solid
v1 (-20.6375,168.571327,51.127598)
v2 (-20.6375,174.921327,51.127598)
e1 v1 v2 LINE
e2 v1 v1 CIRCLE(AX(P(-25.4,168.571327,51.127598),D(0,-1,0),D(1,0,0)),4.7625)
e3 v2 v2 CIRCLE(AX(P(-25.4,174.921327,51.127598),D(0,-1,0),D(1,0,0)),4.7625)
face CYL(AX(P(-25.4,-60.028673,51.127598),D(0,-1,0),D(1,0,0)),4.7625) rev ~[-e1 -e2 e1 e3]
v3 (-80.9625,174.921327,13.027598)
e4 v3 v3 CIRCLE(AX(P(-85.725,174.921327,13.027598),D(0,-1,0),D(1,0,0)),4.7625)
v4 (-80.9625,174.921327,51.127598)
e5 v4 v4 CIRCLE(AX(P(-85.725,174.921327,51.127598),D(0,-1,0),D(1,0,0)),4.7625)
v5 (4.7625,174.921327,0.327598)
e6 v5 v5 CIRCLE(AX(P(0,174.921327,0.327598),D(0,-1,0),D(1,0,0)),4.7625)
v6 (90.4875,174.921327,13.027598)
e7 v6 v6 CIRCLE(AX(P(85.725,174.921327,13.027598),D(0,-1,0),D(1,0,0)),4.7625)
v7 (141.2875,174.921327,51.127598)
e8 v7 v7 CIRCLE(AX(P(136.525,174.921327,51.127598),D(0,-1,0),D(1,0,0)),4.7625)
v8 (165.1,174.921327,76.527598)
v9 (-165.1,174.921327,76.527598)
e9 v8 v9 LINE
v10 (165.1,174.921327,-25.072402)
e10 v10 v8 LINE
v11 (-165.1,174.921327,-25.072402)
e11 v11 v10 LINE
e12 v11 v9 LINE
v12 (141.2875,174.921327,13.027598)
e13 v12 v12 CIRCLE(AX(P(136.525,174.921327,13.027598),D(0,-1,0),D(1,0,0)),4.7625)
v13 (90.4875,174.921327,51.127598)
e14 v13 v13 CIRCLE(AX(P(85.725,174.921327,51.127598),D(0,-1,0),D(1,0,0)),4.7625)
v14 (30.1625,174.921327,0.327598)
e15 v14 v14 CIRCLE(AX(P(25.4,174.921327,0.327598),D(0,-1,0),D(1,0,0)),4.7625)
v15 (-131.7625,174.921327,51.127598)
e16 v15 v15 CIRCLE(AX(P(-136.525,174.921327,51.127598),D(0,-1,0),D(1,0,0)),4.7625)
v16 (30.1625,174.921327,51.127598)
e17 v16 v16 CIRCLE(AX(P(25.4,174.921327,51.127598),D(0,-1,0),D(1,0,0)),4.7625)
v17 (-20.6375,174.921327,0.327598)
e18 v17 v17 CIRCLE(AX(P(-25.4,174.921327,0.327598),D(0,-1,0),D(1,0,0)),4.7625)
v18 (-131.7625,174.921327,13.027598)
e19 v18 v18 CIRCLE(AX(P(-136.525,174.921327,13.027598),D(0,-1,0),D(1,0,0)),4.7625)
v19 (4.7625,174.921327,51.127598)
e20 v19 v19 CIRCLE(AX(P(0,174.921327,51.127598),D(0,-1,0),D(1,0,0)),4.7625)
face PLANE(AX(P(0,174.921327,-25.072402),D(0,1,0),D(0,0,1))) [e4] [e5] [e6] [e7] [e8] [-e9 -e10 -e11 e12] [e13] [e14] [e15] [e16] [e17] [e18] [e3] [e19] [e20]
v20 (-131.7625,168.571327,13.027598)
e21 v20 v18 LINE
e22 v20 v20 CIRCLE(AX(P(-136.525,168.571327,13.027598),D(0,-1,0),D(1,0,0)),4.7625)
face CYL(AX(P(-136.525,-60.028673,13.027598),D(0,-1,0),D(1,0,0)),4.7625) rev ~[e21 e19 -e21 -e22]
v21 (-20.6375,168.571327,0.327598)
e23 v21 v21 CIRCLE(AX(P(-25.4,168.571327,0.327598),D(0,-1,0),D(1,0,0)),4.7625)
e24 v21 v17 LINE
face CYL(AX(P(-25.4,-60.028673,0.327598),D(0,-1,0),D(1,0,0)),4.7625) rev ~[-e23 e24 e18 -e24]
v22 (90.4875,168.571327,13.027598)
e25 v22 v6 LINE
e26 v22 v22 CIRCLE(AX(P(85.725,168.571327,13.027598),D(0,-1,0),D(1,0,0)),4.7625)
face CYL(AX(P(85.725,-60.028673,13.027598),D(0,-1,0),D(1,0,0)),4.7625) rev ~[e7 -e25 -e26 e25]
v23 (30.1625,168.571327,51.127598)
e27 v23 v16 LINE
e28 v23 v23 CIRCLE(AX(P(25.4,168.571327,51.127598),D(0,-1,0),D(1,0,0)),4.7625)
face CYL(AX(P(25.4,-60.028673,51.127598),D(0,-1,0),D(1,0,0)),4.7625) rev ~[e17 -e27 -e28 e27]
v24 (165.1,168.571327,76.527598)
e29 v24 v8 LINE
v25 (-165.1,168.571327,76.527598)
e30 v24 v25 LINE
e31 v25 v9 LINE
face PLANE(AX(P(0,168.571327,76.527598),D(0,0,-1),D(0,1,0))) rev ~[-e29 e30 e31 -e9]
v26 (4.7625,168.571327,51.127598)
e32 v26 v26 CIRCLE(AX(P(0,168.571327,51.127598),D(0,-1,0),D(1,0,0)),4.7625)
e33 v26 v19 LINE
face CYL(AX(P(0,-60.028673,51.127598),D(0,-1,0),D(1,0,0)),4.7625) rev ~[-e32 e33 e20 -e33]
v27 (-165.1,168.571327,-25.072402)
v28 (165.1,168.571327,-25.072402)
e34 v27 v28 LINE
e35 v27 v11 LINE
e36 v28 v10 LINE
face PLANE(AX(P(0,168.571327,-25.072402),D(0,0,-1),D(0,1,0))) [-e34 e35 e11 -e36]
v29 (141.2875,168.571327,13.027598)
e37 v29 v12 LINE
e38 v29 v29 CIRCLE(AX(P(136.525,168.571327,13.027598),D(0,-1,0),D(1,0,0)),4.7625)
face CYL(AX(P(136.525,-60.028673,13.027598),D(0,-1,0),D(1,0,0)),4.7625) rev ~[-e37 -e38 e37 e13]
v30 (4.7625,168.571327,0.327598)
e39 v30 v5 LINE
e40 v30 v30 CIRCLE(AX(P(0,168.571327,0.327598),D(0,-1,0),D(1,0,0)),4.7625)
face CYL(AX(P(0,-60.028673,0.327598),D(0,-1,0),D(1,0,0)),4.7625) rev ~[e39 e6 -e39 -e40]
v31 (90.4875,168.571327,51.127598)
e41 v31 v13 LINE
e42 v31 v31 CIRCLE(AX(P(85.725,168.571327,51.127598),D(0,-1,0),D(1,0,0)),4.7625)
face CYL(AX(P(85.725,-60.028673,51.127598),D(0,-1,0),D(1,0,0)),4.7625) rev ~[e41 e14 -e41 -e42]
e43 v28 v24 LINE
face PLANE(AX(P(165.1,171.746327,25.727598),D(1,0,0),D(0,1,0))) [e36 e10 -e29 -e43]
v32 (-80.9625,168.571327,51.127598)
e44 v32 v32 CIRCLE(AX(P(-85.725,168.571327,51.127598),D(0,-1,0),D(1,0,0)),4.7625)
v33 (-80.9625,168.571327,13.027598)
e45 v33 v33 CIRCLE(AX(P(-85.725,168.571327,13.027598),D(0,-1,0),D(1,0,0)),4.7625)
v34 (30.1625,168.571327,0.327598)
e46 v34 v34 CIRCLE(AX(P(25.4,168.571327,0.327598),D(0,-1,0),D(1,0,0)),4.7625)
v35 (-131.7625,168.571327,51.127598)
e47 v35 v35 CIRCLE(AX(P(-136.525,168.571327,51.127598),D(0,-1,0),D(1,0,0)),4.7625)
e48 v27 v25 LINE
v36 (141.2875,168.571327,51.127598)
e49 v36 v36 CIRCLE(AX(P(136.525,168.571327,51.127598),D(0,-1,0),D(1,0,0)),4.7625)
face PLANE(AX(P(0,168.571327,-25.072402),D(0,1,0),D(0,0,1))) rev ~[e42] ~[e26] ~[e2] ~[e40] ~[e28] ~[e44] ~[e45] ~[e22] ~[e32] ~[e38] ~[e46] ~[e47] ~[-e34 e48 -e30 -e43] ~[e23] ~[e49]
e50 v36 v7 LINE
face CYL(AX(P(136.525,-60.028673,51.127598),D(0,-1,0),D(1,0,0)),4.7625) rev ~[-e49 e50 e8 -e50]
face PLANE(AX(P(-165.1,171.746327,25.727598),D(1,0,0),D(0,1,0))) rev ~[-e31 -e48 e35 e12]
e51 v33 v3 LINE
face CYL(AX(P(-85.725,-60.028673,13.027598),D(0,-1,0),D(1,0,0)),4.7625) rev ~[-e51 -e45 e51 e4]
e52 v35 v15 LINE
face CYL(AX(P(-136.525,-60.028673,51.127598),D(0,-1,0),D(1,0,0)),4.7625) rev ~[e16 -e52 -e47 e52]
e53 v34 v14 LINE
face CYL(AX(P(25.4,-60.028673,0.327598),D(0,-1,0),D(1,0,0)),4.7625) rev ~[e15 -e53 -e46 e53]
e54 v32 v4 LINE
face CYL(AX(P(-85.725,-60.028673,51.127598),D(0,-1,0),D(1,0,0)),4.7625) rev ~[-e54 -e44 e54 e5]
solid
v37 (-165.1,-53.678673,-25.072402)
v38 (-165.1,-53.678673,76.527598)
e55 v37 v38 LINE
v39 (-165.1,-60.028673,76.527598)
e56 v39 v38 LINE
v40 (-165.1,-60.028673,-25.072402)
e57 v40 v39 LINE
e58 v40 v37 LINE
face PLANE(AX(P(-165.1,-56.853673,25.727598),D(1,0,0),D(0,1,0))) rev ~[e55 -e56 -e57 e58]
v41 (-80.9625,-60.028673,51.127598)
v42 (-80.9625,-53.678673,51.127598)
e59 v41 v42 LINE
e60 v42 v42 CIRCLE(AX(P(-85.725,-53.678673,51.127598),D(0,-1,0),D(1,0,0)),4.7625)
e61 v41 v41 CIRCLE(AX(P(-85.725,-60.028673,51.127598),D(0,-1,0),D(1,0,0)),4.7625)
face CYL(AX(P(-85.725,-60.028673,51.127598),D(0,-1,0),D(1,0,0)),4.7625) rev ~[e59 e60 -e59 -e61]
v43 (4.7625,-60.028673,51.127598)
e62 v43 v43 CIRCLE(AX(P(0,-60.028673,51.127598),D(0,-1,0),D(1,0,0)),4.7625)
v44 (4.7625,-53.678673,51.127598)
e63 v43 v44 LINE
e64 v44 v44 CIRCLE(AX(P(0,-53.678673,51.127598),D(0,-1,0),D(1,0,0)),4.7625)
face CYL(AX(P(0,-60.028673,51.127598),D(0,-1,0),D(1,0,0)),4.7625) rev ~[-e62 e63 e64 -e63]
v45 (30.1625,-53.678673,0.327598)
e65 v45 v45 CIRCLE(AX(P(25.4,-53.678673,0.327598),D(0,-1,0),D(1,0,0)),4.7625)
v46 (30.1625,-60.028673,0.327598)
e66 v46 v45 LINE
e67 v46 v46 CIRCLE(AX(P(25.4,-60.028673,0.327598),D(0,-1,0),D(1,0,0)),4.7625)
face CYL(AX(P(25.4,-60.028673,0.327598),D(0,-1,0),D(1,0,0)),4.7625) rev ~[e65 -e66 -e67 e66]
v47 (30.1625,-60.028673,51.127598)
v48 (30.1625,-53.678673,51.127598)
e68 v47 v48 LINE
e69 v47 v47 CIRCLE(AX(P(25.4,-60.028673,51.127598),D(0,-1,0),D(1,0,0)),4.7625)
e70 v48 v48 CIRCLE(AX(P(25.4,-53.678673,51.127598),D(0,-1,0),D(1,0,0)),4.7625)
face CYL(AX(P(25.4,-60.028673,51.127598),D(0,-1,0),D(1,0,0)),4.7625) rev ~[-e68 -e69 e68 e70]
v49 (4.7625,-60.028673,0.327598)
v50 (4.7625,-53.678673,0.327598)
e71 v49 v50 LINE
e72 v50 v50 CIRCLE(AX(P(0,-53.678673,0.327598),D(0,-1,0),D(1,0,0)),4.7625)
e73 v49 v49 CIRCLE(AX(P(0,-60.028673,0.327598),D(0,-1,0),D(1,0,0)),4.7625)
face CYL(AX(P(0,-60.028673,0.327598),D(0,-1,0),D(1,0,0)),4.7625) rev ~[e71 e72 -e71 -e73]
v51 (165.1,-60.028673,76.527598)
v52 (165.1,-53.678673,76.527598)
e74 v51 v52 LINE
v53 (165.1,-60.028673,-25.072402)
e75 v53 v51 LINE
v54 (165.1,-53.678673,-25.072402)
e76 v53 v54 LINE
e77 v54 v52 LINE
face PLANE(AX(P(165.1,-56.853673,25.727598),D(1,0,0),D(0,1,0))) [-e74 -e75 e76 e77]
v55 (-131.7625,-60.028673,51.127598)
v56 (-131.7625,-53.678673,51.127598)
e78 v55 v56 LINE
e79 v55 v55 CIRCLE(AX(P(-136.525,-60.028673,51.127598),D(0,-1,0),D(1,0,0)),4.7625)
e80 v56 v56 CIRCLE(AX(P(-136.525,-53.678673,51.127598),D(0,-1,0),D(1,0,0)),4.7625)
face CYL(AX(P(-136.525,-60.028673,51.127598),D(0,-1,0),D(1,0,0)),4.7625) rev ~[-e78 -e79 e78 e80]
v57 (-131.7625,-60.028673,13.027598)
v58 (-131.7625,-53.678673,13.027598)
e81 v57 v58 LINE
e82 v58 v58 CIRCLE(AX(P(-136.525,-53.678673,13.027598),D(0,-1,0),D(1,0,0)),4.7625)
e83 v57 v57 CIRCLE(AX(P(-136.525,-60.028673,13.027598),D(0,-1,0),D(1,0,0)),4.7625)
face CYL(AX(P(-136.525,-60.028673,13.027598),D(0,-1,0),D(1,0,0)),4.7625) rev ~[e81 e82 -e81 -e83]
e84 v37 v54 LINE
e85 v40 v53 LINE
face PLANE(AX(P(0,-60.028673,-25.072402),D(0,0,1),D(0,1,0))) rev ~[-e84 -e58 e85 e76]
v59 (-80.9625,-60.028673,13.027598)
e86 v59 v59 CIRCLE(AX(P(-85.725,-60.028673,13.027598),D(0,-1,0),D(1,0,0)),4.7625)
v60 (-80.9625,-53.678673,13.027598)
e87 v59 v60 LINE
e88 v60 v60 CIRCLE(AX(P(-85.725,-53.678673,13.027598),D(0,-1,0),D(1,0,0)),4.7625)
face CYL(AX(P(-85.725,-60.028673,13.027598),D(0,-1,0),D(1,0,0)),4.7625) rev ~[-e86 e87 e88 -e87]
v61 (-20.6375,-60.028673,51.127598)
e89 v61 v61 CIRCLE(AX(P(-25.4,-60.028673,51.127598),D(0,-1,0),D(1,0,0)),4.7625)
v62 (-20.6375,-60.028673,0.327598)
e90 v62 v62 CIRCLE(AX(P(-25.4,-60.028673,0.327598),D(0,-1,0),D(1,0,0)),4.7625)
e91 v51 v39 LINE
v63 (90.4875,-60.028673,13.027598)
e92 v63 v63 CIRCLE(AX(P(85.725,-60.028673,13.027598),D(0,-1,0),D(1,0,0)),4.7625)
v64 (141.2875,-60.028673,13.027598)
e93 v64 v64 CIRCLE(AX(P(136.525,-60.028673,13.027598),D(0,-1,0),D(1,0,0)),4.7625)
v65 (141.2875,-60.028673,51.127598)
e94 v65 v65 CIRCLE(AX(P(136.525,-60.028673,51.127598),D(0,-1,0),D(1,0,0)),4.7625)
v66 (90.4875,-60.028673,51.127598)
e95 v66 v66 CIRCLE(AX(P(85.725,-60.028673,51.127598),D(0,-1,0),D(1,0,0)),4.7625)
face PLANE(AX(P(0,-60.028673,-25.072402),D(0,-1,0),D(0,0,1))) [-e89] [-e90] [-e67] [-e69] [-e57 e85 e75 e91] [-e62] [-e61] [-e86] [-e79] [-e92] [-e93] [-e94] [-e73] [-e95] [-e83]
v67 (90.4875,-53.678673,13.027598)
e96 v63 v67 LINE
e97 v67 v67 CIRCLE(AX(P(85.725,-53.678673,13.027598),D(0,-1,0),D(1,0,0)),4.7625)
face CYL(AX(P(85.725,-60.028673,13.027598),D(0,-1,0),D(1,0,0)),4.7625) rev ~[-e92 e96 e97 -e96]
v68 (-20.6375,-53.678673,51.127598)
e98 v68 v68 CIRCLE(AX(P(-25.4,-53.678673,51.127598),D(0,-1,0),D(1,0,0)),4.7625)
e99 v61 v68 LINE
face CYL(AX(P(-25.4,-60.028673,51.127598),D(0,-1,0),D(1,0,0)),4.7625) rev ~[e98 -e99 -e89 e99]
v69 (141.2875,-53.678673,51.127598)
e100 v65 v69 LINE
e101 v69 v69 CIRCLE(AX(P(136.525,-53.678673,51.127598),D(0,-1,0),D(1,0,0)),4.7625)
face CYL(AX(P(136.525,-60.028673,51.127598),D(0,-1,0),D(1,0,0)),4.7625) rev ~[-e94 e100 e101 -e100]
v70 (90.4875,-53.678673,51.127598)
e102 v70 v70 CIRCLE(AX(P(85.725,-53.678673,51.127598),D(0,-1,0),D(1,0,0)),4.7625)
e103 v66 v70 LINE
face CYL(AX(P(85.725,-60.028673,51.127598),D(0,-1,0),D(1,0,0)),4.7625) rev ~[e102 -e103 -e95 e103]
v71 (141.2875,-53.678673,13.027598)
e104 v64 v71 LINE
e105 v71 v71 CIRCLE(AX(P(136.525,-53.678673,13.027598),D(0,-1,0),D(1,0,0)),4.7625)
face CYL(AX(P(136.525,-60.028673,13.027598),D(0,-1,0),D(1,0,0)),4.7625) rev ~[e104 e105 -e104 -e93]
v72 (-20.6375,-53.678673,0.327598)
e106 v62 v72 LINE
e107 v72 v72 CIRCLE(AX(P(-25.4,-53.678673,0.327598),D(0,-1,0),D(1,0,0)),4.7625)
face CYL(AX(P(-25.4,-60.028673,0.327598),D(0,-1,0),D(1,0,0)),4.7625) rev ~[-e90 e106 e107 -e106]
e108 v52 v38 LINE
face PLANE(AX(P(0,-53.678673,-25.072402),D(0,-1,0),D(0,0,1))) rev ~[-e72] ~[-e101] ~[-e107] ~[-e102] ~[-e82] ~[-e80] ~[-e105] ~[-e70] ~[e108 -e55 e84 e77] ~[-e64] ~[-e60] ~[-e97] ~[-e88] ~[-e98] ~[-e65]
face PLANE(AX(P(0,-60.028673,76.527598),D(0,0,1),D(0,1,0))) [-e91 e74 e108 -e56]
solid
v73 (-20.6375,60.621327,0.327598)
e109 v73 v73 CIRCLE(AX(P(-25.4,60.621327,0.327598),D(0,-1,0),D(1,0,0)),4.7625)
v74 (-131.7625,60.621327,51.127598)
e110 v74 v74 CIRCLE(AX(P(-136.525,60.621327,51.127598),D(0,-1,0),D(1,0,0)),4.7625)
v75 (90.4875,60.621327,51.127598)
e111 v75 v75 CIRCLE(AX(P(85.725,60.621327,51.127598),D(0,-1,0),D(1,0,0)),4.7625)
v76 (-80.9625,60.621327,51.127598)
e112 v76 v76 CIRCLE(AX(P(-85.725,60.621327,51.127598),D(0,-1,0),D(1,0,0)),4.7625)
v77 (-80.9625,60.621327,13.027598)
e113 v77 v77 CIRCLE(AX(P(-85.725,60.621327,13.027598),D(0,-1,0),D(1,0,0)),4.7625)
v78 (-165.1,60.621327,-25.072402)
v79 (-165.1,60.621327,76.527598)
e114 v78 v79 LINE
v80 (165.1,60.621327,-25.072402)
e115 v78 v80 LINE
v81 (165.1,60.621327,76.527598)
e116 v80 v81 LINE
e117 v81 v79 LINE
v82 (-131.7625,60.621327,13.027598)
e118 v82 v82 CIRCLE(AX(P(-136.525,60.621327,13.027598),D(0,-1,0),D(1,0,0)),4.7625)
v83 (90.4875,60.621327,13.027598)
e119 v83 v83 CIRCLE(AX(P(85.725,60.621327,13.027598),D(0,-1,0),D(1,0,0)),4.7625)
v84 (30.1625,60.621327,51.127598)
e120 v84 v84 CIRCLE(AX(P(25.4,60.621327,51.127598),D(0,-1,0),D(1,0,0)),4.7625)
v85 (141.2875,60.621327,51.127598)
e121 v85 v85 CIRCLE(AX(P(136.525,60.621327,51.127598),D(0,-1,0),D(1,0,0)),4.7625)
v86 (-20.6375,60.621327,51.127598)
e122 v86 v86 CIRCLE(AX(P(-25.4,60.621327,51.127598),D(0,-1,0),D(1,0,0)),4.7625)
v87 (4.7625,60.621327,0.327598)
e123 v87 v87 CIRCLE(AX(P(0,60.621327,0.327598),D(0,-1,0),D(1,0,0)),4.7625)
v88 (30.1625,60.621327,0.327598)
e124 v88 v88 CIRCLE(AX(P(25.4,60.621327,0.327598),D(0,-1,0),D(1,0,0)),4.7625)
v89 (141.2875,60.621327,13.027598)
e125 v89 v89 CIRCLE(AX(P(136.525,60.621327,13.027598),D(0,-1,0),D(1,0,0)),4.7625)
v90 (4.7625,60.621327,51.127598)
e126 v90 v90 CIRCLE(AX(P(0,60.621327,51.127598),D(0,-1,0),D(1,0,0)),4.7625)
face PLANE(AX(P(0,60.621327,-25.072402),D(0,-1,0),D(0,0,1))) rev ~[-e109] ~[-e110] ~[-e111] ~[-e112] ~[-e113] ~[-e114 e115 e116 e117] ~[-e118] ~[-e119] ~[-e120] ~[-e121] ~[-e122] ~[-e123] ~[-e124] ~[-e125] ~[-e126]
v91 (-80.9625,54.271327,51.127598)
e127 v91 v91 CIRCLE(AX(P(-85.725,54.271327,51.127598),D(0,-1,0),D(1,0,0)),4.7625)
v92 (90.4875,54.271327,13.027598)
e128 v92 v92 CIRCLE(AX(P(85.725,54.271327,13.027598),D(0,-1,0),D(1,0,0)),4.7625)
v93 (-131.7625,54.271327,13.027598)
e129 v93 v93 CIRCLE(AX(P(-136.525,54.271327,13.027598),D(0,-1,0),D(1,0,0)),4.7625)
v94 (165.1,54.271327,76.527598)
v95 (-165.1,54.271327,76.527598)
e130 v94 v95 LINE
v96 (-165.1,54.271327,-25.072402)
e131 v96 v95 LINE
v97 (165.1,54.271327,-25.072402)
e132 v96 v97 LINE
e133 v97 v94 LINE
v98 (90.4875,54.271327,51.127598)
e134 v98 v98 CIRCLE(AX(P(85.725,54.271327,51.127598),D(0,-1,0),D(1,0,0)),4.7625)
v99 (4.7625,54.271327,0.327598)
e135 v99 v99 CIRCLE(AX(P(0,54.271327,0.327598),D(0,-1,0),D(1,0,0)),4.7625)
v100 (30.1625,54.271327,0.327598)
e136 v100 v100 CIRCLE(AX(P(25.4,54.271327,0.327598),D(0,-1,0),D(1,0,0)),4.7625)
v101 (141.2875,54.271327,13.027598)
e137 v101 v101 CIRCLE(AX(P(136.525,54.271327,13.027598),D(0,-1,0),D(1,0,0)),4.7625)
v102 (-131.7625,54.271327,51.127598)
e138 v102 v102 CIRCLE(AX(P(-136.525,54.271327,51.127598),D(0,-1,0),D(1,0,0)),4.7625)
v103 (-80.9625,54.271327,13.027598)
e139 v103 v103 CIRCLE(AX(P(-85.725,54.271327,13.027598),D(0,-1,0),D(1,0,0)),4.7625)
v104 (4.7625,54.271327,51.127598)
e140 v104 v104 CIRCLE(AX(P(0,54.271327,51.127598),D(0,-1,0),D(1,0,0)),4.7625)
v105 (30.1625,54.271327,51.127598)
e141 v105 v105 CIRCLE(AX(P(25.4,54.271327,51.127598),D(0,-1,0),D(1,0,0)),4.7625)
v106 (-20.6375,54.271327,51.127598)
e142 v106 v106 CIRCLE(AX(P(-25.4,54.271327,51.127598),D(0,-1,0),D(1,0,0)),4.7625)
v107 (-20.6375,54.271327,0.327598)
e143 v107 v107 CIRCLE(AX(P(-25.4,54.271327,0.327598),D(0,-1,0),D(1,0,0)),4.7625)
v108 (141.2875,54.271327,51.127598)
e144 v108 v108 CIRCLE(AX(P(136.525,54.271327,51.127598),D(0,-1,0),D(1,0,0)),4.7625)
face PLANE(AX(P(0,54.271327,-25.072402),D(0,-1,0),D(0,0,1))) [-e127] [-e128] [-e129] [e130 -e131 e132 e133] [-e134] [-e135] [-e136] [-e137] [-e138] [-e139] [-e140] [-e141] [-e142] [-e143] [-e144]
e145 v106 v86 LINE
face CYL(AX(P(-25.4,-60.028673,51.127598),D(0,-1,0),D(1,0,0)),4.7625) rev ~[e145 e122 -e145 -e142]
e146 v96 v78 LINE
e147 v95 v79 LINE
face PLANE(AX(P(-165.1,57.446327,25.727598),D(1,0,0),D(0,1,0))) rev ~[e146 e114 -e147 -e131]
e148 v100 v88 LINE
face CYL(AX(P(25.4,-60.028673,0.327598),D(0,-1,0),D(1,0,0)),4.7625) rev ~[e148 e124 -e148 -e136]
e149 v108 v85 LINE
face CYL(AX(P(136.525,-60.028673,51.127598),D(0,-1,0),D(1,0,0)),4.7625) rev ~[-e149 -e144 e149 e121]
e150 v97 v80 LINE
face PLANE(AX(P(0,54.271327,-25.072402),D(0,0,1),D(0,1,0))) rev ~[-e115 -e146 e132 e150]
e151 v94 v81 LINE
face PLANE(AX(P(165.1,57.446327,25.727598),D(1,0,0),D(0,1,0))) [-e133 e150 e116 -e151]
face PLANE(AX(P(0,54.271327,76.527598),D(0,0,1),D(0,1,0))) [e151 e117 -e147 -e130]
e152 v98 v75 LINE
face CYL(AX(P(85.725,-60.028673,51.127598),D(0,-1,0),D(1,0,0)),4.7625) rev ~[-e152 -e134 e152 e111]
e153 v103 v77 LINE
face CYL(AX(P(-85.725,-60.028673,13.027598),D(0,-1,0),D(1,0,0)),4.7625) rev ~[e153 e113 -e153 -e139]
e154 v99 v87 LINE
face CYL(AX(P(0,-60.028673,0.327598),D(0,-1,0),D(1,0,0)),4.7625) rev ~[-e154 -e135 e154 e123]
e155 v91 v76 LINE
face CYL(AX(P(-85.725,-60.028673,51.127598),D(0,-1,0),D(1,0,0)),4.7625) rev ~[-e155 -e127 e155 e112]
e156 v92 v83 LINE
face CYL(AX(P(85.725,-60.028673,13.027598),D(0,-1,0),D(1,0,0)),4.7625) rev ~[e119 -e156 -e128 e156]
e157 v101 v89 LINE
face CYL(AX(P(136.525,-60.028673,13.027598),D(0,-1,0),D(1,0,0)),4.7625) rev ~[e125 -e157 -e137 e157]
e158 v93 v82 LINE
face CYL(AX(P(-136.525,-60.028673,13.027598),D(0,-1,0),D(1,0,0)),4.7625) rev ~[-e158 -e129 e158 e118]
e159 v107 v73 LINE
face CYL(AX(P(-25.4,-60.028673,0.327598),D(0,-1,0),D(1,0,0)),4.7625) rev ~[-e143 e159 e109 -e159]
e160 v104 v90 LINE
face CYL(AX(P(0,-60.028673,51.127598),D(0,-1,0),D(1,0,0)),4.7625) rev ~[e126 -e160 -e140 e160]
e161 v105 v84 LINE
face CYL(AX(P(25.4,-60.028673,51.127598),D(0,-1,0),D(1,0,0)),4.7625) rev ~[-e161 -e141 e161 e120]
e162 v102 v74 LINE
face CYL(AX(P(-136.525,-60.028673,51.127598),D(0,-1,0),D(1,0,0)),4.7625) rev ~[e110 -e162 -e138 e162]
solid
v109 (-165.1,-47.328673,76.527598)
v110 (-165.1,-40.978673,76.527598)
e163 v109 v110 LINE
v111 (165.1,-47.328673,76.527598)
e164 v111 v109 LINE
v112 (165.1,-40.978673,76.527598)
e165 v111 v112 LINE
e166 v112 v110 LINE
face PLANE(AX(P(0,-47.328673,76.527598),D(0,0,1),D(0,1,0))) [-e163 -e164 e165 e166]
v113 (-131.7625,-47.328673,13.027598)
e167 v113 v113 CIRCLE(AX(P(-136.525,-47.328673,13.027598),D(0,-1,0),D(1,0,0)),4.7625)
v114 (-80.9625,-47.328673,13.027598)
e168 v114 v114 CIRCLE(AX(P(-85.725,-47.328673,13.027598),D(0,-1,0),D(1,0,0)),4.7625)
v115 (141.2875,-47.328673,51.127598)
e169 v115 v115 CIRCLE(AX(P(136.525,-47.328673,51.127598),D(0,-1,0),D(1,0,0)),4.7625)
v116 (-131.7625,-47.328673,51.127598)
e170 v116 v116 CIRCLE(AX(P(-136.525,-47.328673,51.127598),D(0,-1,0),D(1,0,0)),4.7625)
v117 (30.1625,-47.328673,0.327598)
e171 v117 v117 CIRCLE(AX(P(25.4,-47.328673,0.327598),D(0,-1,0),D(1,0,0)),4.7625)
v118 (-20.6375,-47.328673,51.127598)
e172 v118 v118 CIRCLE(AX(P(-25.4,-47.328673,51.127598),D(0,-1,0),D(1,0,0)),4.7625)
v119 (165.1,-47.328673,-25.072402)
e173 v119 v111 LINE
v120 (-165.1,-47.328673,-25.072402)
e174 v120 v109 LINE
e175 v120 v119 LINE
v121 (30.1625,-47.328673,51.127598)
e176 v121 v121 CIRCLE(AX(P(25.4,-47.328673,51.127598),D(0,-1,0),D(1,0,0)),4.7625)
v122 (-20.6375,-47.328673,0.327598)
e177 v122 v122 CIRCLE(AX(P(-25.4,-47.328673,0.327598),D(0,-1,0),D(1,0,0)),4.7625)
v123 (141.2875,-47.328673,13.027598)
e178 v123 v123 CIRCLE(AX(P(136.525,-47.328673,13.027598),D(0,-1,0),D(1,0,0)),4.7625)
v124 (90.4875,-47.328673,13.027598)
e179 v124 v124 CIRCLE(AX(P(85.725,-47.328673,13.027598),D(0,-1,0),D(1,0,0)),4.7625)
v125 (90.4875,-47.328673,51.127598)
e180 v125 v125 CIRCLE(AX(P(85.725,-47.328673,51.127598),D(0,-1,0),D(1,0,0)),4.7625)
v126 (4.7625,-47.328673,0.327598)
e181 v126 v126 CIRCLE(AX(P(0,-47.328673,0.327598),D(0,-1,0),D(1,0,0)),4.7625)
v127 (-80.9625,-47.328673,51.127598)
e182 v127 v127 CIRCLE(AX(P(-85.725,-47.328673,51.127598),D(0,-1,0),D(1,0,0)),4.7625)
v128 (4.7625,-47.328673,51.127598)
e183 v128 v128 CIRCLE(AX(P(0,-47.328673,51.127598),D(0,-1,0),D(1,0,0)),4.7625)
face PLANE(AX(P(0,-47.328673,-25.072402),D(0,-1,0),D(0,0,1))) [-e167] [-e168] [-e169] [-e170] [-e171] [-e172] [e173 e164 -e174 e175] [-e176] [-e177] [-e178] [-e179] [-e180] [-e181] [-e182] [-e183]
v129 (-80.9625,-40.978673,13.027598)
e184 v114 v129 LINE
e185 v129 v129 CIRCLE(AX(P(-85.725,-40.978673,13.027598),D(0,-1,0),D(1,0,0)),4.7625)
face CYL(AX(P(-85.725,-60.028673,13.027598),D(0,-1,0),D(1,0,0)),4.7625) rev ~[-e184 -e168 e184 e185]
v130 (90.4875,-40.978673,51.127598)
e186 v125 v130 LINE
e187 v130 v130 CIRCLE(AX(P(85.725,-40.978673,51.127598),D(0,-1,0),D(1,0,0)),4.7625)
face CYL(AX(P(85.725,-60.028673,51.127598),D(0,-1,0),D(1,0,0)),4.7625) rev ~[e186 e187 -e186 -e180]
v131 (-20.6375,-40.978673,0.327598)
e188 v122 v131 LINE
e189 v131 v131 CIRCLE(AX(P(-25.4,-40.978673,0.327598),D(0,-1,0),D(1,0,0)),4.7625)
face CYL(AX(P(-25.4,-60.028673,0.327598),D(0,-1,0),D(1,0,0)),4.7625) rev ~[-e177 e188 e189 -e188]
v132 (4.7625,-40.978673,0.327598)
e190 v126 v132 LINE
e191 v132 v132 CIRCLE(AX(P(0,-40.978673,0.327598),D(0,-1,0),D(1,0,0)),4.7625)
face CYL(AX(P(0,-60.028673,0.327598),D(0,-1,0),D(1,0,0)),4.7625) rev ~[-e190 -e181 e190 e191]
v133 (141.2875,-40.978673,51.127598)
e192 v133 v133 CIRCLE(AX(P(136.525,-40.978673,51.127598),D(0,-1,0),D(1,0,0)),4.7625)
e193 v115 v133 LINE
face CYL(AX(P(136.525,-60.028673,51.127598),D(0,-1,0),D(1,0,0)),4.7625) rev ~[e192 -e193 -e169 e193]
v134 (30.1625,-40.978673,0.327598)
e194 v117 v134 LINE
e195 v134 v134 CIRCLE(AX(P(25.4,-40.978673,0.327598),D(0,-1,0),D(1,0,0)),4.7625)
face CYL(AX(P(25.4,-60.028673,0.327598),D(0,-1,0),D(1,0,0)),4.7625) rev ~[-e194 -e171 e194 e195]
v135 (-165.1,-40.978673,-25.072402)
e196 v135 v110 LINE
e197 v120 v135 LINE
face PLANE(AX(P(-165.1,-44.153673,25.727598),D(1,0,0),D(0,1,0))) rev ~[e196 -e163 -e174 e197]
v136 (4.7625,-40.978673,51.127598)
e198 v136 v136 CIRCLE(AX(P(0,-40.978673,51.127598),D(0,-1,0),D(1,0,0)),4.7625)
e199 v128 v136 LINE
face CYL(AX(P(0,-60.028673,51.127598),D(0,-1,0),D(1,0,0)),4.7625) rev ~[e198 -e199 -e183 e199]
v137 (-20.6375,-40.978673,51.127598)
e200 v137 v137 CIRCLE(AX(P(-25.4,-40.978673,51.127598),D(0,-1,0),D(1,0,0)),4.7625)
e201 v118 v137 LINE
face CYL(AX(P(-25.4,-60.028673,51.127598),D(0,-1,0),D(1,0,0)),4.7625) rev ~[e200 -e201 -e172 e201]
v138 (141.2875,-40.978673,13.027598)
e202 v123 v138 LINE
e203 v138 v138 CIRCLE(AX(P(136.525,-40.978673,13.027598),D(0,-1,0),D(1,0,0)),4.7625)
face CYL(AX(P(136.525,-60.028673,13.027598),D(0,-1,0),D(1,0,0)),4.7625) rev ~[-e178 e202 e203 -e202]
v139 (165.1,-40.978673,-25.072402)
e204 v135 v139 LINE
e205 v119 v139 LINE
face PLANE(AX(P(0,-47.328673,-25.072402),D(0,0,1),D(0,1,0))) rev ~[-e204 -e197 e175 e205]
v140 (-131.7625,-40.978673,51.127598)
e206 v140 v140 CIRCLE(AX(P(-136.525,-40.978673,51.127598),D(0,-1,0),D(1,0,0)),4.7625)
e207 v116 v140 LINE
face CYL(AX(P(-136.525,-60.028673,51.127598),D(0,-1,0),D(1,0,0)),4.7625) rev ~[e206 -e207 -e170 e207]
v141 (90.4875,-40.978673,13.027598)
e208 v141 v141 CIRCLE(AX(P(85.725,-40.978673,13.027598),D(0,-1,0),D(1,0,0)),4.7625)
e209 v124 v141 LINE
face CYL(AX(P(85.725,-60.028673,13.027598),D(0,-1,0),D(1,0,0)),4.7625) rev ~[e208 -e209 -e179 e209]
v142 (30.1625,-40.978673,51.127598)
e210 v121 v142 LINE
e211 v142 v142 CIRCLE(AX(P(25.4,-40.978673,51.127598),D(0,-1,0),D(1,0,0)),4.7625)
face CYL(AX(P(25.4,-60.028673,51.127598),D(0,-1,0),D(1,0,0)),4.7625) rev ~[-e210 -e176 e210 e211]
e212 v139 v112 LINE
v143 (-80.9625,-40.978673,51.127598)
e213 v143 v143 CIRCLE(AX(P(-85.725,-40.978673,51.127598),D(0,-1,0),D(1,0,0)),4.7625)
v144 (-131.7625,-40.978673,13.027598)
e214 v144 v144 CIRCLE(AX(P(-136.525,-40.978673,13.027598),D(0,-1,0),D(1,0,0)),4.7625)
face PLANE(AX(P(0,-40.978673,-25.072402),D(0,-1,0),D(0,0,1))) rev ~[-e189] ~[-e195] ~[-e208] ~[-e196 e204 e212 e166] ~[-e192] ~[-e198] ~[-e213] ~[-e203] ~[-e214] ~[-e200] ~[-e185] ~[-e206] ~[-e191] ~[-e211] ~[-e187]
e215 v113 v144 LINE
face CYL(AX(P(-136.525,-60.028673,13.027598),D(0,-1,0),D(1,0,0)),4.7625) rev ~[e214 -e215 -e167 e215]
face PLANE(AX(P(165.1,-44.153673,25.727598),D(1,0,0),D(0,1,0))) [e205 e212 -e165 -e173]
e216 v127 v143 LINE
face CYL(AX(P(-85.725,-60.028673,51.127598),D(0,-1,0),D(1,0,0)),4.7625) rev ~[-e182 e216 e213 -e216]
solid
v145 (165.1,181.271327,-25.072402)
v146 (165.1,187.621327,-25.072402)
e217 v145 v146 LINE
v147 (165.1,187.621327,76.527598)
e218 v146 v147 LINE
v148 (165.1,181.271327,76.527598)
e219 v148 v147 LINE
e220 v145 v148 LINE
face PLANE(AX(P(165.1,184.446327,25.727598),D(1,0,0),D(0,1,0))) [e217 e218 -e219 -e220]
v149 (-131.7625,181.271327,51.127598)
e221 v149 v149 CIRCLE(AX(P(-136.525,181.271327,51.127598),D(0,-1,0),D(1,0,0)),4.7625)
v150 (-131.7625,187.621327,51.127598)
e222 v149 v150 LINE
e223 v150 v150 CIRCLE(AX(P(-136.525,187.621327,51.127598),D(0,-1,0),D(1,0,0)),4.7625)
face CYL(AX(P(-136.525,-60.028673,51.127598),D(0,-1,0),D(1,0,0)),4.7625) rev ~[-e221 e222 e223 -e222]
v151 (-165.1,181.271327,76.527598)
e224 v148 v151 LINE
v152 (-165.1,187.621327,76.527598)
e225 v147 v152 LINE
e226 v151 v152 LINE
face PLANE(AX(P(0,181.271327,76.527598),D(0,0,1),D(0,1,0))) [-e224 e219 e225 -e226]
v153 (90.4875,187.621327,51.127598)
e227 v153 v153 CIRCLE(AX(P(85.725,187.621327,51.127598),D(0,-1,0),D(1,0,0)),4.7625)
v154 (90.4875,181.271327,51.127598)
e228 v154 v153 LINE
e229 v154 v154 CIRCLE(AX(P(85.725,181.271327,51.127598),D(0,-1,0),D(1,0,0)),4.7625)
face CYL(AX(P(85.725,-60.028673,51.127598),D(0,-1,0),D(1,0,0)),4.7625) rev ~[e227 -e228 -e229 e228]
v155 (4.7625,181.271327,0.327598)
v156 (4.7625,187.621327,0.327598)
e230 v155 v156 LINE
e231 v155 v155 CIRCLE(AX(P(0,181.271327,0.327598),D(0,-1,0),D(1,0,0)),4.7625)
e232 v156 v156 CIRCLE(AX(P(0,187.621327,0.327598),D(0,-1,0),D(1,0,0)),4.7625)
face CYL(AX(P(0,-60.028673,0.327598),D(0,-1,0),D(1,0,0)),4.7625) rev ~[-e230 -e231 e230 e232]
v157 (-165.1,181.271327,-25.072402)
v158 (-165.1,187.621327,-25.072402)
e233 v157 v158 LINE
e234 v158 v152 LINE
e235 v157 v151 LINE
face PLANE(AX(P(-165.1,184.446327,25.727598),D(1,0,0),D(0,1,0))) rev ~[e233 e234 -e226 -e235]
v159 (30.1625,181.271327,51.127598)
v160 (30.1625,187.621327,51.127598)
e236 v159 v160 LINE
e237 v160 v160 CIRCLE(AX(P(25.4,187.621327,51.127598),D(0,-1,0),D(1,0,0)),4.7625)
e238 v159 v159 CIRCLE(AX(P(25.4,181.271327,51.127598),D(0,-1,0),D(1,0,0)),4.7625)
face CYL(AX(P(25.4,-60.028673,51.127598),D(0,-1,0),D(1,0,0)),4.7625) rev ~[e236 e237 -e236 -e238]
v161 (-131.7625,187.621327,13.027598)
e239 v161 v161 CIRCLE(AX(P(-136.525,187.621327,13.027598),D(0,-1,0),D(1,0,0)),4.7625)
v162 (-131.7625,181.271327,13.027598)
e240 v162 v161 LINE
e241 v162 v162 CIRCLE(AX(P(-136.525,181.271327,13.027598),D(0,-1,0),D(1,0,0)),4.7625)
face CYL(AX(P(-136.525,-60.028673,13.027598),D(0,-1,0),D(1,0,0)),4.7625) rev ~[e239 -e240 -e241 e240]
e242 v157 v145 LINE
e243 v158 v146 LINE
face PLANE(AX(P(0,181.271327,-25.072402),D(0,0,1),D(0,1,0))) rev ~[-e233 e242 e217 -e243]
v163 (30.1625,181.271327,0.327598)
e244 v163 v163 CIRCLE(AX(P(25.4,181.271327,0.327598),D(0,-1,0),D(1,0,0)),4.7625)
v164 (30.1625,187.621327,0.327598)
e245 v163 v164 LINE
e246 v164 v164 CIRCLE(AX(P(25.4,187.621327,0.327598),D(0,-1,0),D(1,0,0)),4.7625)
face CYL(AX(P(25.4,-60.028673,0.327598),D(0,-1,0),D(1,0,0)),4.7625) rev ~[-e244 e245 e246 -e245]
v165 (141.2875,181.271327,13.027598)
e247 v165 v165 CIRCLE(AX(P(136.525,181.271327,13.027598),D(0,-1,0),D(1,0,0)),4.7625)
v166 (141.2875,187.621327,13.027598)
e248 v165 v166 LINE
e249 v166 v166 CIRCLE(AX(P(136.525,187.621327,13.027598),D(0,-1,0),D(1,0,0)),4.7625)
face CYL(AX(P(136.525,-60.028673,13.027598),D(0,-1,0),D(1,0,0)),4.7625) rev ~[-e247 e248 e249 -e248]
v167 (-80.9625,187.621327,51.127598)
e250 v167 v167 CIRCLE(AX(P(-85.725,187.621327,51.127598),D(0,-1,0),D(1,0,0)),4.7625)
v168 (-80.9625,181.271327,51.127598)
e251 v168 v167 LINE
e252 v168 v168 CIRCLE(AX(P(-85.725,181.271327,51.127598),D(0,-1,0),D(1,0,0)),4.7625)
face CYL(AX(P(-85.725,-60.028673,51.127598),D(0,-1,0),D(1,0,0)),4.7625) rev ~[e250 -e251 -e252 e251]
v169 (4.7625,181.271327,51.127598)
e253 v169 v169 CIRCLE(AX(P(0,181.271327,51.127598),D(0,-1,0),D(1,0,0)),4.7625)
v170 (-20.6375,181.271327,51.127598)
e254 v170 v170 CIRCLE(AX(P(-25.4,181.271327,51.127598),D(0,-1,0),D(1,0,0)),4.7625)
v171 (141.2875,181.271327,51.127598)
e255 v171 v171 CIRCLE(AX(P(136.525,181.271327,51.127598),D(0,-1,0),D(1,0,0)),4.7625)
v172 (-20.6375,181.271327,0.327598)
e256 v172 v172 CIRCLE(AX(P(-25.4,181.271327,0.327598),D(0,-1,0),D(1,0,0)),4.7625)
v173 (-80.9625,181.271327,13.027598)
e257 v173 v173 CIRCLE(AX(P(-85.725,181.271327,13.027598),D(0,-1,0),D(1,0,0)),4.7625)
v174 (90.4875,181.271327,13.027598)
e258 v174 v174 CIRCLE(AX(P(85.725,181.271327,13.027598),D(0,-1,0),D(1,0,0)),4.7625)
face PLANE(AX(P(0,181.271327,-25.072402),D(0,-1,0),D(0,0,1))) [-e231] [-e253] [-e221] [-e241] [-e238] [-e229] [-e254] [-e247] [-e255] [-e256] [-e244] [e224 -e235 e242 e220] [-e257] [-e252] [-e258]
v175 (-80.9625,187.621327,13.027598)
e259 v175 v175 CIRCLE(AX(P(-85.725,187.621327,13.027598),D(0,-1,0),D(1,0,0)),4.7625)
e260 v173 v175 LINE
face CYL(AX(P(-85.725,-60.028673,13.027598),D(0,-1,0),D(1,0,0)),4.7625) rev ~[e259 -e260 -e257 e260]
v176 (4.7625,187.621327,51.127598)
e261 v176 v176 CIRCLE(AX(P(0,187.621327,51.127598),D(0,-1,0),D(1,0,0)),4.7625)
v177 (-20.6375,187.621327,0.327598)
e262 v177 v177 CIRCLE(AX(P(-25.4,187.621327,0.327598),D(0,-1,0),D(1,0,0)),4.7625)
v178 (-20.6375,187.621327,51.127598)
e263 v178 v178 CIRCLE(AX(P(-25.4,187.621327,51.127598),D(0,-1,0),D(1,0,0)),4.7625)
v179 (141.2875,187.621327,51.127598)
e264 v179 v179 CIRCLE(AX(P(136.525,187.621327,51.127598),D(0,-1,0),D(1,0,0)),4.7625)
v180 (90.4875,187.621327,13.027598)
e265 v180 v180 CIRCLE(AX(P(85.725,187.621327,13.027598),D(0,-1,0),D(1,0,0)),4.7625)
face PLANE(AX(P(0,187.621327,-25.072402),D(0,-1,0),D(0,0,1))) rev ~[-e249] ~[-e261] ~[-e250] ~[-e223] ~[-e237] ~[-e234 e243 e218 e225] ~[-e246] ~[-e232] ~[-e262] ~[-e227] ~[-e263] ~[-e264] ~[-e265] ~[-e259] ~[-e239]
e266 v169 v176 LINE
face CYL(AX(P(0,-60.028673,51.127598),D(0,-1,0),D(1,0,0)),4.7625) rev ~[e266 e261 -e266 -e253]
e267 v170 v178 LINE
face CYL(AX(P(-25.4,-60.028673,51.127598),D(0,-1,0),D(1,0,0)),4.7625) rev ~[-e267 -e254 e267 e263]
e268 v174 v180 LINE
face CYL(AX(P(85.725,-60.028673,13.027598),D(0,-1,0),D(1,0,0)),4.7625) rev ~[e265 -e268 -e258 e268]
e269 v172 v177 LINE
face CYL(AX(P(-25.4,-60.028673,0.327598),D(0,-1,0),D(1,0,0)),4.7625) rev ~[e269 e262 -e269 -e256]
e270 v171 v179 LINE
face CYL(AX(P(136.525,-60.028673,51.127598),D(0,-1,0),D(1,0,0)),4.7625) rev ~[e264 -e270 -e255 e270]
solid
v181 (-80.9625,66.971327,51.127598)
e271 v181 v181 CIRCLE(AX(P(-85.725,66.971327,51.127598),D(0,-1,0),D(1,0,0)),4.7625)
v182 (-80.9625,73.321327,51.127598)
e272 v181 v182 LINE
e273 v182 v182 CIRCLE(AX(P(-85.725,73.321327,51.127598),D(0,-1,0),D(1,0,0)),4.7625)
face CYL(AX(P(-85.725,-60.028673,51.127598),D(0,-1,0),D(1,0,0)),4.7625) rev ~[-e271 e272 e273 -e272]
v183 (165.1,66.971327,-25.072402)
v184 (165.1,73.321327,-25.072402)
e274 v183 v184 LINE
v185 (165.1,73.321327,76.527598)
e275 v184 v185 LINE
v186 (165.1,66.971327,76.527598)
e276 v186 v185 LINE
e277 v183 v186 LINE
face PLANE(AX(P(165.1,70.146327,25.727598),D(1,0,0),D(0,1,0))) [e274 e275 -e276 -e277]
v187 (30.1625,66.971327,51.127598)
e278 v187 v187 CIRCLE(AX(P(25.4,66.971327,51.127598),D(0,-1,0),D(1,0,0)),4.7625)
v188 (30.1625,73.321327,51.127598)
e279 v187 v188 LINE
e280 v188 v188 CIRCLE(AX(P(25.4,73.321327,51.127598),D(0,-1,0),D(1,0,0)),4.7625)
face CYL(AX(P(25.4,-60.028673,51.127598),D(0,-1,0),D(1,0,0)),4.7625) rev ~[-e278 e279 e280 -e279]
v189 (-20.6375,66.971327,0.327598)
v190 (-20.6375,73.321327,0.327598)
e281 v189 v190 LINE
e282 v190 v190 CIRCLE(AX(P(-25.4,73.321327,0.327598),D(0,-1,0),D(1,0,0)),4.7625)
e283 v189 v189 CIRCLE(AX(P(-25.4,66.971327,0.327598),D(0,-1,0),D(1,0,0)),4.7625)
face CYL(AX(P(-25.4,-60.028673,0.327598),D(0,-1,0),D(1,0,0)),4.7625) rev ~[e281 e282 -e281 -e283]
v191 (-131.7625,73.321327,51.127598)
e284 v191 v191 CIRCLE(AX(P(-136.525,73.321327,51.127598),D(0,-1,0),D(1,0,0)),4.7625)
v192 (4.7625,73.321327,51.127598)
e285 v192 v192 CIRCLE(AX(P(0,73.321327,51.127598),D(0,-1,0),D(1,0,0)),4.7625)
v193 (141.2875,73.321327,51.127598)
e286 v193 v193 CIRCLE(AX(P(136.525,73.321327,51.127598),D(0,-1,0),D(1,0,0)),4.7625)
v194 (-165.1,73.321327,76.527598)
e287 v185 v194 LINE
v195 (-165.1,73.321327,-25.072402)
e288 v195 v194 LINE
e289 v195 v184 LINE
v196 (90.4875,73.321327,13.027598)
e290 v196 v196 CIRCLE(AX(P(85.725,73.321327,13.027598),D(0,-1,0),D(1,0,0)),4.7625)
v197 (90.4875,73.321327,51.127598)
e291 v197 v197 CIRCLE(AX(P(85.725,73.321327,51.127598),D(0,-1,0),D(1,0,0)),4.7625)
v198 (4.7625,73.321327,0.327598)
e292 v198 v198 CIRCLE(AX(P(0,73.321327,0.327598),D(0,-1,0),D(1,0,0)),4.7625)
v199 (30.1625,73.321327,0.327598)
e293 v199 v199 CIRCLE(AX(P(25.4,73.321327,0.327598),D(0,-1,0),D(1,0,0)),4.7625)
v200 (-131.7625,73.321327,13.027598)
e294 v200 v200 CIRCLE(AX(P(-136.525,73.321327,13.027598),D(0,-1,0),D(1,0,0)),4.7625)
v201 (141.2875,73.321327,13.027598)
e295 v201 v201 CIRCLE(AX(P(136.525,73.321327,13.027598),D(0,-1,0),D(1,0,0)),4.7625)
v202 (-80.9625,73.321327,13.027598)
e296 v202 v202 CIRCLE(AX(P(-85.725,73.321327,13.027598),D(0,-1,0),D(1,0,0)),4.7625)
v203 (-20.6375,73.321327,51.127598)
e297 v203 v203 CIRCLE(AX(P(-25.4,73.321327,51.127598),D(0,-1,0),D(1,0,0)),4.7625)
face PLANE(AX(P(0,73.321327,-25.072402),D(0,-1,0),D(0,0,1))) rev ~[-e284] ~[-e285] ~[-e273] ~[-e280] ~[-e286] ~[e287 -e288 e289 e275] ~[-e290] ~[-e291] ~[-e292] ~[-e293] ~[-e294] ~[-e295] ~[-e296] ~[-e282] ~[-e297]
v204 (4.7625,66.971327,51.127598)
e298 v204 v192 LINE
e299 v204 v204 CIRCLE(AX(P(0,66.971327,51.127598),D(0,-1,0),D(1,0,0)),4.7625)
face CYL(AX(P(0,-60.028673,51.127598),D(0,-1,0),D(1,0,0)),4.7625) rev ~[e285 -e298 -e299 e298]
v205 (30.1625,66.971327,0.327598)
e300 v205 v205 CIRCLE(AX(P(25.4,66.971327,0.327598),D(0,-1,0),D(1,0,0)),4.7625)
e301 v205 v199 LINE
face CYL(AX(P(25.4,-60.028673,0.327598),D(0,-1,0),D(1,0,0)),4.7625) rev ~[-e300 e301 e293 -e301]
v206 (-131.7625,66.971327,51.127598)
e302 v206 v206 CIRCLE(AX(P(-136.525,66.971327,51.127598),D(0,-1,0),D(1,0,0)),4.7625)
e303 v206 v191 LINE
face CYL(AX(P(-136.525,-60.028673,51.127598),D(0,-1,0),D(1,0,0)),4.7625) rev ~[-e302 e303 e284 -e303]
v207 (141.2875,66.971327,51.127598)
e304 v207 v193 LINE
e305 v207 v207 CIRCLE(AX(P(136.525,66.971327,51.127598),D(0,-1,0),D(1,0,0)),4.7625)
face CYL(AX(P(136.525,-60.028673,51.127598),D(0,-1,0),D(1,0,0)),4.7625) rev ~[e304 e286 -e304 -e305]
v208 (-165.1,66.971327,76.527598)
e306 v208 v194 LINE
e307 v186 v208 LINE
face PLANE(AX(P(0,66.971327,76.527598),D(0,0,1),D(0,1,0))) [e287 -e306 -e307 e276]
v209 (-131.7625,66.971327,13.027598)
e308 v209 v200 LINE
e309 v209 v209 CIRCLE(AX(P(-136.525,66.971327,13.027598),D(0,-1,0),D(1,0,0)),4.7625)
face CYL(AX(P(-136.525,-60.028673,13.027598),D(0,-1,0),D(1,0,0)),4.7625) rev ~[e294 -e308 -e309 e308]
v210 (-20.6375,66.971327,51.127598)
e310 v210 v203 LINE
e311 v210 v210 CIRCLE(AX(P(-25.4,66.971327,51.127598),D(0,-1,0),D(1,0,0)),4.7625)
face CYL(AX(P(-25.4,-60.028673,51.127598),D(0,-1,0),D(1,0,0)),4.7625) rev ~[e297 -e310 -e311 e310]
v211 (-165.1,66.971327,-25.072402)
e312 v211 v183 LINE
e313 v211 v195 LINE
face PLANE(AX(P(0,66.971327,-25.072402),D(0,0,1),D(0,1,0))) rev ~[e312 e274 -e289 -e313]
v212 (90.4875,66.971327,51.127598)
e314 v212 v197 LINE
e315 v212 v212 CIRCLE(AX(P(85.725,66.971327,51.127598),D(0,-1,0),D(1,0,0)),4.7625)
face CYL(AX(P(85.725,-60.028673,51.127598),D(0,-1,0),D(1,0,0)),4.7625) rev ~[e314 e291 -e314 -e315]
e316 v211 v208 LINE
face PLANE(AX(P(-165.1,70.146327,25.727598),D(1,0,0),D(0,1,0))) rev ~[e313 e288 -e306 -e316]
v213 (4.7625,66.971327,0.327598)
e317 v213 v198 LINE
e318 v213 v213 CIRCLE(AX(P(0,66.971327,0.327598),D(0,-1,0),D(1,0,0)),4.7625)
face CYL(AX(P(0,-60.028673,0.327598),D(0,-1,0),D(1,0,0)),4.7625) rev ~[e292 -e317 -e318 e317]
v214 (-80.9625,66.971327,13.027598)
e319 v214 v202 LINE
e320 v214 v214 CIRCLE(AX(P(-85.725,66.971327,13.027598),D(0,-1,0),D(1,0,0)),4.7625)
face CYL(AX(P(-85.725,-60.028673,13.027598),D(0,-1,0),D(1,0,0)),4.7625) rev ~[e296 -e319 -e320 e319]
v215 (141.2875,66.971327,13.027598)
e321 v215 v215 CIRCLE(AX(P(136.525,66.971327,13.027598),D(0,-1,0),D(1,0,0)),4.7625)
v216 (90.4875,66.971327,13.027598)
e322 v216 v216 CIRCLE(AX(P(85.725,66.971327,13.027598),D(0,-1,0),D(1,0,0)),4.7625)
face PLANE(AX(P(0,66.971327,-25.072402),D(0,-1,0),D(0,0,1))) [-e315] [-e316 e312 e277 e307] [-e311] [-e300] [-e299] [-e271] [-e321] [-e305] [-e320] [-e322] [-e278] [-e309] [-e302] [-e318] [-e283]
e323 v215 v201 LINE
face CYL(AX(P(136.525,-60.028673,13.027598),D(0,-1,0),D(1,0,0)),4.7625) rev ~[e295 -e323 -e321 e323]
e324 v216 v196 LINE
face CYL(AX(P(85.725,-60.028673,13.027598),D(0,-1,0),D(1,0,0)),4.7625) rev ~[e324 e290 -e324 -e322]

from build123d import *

# Parameters (mm, degrees)
F0_W     = 6.35
F0_H     = 101.6
F1_DEPTH = 165.1
F2_R     = 4.7625
F3_DEPTH = 247.651


with BuildPart() as f1:
    # F0 (on Right) → F1 (new body, symmetric)
    with BuildSketch(Plane.YZ):
        with Locations((-56.853673, 25.727598)):
            Rectangle(F0_W, F0_H)
        with Locations((-44.153673, 25.727598)):
            Rectangle(F0_W, F0_H)
        with Locations((70.146327, 25.727598)):
            Rectangle(F0_W, F0_H)
        with Locations((57.446327, 25.727598)):
            Rectangle(F0_W, F0_H)
        with Locations((184.446327, 25.727598)):
            Rectangle(F0_W, F0_H)
        with Locations((171.746327, 25.727598)):
            Rectangle(F0_W, F0_H)
    extrude(amount=F1_DEPTH, both=True)

    # F2 (on face) → F3 (cut, through all)
    with BuildSketch(Plane.XZ.offset(60.028673)):
        with Locations((-136.525, 51.127598)):
            Circle(F2_R)
        with Locations((136.525, 51.127598)):
            Circle(F2_R)
        with Locations((-25.4, 0.327598)):
            Circle(F2_R)
        with Locations((-136.525, 13.027598)):
            Circle(F2_R)
        with Locations((-85.725, 51.127598)):
            Circle(F2_R)
        with Locations((-85.725, 13.027598)):
            Circle(F2_R)
        with Locations((136.525, 13.027598)):
            Circle(F2_R)
        with Locations((85.725, 51.127598)):
            Circle(F2_R)
        with Locations((85.725, 13.027598)):
            Circle(F2_R)
        with Locations((-25.4, 51.127598)):
            Circle(F2_R)
        with Locations((0, 0.327598)):
            Circle(F2_R)
        with Locations((0, 51.127598)):
            Circle(F2_R)
        with Locations((25.4, 0.327598)):
            Circle(F2_R)
        with Locations((25.4, 51.127598)):
            Circle(F2_R)
    extrude(amount=-F3_DEPTH, mode=Mode.SUBTRACT)


solid = f1.part
